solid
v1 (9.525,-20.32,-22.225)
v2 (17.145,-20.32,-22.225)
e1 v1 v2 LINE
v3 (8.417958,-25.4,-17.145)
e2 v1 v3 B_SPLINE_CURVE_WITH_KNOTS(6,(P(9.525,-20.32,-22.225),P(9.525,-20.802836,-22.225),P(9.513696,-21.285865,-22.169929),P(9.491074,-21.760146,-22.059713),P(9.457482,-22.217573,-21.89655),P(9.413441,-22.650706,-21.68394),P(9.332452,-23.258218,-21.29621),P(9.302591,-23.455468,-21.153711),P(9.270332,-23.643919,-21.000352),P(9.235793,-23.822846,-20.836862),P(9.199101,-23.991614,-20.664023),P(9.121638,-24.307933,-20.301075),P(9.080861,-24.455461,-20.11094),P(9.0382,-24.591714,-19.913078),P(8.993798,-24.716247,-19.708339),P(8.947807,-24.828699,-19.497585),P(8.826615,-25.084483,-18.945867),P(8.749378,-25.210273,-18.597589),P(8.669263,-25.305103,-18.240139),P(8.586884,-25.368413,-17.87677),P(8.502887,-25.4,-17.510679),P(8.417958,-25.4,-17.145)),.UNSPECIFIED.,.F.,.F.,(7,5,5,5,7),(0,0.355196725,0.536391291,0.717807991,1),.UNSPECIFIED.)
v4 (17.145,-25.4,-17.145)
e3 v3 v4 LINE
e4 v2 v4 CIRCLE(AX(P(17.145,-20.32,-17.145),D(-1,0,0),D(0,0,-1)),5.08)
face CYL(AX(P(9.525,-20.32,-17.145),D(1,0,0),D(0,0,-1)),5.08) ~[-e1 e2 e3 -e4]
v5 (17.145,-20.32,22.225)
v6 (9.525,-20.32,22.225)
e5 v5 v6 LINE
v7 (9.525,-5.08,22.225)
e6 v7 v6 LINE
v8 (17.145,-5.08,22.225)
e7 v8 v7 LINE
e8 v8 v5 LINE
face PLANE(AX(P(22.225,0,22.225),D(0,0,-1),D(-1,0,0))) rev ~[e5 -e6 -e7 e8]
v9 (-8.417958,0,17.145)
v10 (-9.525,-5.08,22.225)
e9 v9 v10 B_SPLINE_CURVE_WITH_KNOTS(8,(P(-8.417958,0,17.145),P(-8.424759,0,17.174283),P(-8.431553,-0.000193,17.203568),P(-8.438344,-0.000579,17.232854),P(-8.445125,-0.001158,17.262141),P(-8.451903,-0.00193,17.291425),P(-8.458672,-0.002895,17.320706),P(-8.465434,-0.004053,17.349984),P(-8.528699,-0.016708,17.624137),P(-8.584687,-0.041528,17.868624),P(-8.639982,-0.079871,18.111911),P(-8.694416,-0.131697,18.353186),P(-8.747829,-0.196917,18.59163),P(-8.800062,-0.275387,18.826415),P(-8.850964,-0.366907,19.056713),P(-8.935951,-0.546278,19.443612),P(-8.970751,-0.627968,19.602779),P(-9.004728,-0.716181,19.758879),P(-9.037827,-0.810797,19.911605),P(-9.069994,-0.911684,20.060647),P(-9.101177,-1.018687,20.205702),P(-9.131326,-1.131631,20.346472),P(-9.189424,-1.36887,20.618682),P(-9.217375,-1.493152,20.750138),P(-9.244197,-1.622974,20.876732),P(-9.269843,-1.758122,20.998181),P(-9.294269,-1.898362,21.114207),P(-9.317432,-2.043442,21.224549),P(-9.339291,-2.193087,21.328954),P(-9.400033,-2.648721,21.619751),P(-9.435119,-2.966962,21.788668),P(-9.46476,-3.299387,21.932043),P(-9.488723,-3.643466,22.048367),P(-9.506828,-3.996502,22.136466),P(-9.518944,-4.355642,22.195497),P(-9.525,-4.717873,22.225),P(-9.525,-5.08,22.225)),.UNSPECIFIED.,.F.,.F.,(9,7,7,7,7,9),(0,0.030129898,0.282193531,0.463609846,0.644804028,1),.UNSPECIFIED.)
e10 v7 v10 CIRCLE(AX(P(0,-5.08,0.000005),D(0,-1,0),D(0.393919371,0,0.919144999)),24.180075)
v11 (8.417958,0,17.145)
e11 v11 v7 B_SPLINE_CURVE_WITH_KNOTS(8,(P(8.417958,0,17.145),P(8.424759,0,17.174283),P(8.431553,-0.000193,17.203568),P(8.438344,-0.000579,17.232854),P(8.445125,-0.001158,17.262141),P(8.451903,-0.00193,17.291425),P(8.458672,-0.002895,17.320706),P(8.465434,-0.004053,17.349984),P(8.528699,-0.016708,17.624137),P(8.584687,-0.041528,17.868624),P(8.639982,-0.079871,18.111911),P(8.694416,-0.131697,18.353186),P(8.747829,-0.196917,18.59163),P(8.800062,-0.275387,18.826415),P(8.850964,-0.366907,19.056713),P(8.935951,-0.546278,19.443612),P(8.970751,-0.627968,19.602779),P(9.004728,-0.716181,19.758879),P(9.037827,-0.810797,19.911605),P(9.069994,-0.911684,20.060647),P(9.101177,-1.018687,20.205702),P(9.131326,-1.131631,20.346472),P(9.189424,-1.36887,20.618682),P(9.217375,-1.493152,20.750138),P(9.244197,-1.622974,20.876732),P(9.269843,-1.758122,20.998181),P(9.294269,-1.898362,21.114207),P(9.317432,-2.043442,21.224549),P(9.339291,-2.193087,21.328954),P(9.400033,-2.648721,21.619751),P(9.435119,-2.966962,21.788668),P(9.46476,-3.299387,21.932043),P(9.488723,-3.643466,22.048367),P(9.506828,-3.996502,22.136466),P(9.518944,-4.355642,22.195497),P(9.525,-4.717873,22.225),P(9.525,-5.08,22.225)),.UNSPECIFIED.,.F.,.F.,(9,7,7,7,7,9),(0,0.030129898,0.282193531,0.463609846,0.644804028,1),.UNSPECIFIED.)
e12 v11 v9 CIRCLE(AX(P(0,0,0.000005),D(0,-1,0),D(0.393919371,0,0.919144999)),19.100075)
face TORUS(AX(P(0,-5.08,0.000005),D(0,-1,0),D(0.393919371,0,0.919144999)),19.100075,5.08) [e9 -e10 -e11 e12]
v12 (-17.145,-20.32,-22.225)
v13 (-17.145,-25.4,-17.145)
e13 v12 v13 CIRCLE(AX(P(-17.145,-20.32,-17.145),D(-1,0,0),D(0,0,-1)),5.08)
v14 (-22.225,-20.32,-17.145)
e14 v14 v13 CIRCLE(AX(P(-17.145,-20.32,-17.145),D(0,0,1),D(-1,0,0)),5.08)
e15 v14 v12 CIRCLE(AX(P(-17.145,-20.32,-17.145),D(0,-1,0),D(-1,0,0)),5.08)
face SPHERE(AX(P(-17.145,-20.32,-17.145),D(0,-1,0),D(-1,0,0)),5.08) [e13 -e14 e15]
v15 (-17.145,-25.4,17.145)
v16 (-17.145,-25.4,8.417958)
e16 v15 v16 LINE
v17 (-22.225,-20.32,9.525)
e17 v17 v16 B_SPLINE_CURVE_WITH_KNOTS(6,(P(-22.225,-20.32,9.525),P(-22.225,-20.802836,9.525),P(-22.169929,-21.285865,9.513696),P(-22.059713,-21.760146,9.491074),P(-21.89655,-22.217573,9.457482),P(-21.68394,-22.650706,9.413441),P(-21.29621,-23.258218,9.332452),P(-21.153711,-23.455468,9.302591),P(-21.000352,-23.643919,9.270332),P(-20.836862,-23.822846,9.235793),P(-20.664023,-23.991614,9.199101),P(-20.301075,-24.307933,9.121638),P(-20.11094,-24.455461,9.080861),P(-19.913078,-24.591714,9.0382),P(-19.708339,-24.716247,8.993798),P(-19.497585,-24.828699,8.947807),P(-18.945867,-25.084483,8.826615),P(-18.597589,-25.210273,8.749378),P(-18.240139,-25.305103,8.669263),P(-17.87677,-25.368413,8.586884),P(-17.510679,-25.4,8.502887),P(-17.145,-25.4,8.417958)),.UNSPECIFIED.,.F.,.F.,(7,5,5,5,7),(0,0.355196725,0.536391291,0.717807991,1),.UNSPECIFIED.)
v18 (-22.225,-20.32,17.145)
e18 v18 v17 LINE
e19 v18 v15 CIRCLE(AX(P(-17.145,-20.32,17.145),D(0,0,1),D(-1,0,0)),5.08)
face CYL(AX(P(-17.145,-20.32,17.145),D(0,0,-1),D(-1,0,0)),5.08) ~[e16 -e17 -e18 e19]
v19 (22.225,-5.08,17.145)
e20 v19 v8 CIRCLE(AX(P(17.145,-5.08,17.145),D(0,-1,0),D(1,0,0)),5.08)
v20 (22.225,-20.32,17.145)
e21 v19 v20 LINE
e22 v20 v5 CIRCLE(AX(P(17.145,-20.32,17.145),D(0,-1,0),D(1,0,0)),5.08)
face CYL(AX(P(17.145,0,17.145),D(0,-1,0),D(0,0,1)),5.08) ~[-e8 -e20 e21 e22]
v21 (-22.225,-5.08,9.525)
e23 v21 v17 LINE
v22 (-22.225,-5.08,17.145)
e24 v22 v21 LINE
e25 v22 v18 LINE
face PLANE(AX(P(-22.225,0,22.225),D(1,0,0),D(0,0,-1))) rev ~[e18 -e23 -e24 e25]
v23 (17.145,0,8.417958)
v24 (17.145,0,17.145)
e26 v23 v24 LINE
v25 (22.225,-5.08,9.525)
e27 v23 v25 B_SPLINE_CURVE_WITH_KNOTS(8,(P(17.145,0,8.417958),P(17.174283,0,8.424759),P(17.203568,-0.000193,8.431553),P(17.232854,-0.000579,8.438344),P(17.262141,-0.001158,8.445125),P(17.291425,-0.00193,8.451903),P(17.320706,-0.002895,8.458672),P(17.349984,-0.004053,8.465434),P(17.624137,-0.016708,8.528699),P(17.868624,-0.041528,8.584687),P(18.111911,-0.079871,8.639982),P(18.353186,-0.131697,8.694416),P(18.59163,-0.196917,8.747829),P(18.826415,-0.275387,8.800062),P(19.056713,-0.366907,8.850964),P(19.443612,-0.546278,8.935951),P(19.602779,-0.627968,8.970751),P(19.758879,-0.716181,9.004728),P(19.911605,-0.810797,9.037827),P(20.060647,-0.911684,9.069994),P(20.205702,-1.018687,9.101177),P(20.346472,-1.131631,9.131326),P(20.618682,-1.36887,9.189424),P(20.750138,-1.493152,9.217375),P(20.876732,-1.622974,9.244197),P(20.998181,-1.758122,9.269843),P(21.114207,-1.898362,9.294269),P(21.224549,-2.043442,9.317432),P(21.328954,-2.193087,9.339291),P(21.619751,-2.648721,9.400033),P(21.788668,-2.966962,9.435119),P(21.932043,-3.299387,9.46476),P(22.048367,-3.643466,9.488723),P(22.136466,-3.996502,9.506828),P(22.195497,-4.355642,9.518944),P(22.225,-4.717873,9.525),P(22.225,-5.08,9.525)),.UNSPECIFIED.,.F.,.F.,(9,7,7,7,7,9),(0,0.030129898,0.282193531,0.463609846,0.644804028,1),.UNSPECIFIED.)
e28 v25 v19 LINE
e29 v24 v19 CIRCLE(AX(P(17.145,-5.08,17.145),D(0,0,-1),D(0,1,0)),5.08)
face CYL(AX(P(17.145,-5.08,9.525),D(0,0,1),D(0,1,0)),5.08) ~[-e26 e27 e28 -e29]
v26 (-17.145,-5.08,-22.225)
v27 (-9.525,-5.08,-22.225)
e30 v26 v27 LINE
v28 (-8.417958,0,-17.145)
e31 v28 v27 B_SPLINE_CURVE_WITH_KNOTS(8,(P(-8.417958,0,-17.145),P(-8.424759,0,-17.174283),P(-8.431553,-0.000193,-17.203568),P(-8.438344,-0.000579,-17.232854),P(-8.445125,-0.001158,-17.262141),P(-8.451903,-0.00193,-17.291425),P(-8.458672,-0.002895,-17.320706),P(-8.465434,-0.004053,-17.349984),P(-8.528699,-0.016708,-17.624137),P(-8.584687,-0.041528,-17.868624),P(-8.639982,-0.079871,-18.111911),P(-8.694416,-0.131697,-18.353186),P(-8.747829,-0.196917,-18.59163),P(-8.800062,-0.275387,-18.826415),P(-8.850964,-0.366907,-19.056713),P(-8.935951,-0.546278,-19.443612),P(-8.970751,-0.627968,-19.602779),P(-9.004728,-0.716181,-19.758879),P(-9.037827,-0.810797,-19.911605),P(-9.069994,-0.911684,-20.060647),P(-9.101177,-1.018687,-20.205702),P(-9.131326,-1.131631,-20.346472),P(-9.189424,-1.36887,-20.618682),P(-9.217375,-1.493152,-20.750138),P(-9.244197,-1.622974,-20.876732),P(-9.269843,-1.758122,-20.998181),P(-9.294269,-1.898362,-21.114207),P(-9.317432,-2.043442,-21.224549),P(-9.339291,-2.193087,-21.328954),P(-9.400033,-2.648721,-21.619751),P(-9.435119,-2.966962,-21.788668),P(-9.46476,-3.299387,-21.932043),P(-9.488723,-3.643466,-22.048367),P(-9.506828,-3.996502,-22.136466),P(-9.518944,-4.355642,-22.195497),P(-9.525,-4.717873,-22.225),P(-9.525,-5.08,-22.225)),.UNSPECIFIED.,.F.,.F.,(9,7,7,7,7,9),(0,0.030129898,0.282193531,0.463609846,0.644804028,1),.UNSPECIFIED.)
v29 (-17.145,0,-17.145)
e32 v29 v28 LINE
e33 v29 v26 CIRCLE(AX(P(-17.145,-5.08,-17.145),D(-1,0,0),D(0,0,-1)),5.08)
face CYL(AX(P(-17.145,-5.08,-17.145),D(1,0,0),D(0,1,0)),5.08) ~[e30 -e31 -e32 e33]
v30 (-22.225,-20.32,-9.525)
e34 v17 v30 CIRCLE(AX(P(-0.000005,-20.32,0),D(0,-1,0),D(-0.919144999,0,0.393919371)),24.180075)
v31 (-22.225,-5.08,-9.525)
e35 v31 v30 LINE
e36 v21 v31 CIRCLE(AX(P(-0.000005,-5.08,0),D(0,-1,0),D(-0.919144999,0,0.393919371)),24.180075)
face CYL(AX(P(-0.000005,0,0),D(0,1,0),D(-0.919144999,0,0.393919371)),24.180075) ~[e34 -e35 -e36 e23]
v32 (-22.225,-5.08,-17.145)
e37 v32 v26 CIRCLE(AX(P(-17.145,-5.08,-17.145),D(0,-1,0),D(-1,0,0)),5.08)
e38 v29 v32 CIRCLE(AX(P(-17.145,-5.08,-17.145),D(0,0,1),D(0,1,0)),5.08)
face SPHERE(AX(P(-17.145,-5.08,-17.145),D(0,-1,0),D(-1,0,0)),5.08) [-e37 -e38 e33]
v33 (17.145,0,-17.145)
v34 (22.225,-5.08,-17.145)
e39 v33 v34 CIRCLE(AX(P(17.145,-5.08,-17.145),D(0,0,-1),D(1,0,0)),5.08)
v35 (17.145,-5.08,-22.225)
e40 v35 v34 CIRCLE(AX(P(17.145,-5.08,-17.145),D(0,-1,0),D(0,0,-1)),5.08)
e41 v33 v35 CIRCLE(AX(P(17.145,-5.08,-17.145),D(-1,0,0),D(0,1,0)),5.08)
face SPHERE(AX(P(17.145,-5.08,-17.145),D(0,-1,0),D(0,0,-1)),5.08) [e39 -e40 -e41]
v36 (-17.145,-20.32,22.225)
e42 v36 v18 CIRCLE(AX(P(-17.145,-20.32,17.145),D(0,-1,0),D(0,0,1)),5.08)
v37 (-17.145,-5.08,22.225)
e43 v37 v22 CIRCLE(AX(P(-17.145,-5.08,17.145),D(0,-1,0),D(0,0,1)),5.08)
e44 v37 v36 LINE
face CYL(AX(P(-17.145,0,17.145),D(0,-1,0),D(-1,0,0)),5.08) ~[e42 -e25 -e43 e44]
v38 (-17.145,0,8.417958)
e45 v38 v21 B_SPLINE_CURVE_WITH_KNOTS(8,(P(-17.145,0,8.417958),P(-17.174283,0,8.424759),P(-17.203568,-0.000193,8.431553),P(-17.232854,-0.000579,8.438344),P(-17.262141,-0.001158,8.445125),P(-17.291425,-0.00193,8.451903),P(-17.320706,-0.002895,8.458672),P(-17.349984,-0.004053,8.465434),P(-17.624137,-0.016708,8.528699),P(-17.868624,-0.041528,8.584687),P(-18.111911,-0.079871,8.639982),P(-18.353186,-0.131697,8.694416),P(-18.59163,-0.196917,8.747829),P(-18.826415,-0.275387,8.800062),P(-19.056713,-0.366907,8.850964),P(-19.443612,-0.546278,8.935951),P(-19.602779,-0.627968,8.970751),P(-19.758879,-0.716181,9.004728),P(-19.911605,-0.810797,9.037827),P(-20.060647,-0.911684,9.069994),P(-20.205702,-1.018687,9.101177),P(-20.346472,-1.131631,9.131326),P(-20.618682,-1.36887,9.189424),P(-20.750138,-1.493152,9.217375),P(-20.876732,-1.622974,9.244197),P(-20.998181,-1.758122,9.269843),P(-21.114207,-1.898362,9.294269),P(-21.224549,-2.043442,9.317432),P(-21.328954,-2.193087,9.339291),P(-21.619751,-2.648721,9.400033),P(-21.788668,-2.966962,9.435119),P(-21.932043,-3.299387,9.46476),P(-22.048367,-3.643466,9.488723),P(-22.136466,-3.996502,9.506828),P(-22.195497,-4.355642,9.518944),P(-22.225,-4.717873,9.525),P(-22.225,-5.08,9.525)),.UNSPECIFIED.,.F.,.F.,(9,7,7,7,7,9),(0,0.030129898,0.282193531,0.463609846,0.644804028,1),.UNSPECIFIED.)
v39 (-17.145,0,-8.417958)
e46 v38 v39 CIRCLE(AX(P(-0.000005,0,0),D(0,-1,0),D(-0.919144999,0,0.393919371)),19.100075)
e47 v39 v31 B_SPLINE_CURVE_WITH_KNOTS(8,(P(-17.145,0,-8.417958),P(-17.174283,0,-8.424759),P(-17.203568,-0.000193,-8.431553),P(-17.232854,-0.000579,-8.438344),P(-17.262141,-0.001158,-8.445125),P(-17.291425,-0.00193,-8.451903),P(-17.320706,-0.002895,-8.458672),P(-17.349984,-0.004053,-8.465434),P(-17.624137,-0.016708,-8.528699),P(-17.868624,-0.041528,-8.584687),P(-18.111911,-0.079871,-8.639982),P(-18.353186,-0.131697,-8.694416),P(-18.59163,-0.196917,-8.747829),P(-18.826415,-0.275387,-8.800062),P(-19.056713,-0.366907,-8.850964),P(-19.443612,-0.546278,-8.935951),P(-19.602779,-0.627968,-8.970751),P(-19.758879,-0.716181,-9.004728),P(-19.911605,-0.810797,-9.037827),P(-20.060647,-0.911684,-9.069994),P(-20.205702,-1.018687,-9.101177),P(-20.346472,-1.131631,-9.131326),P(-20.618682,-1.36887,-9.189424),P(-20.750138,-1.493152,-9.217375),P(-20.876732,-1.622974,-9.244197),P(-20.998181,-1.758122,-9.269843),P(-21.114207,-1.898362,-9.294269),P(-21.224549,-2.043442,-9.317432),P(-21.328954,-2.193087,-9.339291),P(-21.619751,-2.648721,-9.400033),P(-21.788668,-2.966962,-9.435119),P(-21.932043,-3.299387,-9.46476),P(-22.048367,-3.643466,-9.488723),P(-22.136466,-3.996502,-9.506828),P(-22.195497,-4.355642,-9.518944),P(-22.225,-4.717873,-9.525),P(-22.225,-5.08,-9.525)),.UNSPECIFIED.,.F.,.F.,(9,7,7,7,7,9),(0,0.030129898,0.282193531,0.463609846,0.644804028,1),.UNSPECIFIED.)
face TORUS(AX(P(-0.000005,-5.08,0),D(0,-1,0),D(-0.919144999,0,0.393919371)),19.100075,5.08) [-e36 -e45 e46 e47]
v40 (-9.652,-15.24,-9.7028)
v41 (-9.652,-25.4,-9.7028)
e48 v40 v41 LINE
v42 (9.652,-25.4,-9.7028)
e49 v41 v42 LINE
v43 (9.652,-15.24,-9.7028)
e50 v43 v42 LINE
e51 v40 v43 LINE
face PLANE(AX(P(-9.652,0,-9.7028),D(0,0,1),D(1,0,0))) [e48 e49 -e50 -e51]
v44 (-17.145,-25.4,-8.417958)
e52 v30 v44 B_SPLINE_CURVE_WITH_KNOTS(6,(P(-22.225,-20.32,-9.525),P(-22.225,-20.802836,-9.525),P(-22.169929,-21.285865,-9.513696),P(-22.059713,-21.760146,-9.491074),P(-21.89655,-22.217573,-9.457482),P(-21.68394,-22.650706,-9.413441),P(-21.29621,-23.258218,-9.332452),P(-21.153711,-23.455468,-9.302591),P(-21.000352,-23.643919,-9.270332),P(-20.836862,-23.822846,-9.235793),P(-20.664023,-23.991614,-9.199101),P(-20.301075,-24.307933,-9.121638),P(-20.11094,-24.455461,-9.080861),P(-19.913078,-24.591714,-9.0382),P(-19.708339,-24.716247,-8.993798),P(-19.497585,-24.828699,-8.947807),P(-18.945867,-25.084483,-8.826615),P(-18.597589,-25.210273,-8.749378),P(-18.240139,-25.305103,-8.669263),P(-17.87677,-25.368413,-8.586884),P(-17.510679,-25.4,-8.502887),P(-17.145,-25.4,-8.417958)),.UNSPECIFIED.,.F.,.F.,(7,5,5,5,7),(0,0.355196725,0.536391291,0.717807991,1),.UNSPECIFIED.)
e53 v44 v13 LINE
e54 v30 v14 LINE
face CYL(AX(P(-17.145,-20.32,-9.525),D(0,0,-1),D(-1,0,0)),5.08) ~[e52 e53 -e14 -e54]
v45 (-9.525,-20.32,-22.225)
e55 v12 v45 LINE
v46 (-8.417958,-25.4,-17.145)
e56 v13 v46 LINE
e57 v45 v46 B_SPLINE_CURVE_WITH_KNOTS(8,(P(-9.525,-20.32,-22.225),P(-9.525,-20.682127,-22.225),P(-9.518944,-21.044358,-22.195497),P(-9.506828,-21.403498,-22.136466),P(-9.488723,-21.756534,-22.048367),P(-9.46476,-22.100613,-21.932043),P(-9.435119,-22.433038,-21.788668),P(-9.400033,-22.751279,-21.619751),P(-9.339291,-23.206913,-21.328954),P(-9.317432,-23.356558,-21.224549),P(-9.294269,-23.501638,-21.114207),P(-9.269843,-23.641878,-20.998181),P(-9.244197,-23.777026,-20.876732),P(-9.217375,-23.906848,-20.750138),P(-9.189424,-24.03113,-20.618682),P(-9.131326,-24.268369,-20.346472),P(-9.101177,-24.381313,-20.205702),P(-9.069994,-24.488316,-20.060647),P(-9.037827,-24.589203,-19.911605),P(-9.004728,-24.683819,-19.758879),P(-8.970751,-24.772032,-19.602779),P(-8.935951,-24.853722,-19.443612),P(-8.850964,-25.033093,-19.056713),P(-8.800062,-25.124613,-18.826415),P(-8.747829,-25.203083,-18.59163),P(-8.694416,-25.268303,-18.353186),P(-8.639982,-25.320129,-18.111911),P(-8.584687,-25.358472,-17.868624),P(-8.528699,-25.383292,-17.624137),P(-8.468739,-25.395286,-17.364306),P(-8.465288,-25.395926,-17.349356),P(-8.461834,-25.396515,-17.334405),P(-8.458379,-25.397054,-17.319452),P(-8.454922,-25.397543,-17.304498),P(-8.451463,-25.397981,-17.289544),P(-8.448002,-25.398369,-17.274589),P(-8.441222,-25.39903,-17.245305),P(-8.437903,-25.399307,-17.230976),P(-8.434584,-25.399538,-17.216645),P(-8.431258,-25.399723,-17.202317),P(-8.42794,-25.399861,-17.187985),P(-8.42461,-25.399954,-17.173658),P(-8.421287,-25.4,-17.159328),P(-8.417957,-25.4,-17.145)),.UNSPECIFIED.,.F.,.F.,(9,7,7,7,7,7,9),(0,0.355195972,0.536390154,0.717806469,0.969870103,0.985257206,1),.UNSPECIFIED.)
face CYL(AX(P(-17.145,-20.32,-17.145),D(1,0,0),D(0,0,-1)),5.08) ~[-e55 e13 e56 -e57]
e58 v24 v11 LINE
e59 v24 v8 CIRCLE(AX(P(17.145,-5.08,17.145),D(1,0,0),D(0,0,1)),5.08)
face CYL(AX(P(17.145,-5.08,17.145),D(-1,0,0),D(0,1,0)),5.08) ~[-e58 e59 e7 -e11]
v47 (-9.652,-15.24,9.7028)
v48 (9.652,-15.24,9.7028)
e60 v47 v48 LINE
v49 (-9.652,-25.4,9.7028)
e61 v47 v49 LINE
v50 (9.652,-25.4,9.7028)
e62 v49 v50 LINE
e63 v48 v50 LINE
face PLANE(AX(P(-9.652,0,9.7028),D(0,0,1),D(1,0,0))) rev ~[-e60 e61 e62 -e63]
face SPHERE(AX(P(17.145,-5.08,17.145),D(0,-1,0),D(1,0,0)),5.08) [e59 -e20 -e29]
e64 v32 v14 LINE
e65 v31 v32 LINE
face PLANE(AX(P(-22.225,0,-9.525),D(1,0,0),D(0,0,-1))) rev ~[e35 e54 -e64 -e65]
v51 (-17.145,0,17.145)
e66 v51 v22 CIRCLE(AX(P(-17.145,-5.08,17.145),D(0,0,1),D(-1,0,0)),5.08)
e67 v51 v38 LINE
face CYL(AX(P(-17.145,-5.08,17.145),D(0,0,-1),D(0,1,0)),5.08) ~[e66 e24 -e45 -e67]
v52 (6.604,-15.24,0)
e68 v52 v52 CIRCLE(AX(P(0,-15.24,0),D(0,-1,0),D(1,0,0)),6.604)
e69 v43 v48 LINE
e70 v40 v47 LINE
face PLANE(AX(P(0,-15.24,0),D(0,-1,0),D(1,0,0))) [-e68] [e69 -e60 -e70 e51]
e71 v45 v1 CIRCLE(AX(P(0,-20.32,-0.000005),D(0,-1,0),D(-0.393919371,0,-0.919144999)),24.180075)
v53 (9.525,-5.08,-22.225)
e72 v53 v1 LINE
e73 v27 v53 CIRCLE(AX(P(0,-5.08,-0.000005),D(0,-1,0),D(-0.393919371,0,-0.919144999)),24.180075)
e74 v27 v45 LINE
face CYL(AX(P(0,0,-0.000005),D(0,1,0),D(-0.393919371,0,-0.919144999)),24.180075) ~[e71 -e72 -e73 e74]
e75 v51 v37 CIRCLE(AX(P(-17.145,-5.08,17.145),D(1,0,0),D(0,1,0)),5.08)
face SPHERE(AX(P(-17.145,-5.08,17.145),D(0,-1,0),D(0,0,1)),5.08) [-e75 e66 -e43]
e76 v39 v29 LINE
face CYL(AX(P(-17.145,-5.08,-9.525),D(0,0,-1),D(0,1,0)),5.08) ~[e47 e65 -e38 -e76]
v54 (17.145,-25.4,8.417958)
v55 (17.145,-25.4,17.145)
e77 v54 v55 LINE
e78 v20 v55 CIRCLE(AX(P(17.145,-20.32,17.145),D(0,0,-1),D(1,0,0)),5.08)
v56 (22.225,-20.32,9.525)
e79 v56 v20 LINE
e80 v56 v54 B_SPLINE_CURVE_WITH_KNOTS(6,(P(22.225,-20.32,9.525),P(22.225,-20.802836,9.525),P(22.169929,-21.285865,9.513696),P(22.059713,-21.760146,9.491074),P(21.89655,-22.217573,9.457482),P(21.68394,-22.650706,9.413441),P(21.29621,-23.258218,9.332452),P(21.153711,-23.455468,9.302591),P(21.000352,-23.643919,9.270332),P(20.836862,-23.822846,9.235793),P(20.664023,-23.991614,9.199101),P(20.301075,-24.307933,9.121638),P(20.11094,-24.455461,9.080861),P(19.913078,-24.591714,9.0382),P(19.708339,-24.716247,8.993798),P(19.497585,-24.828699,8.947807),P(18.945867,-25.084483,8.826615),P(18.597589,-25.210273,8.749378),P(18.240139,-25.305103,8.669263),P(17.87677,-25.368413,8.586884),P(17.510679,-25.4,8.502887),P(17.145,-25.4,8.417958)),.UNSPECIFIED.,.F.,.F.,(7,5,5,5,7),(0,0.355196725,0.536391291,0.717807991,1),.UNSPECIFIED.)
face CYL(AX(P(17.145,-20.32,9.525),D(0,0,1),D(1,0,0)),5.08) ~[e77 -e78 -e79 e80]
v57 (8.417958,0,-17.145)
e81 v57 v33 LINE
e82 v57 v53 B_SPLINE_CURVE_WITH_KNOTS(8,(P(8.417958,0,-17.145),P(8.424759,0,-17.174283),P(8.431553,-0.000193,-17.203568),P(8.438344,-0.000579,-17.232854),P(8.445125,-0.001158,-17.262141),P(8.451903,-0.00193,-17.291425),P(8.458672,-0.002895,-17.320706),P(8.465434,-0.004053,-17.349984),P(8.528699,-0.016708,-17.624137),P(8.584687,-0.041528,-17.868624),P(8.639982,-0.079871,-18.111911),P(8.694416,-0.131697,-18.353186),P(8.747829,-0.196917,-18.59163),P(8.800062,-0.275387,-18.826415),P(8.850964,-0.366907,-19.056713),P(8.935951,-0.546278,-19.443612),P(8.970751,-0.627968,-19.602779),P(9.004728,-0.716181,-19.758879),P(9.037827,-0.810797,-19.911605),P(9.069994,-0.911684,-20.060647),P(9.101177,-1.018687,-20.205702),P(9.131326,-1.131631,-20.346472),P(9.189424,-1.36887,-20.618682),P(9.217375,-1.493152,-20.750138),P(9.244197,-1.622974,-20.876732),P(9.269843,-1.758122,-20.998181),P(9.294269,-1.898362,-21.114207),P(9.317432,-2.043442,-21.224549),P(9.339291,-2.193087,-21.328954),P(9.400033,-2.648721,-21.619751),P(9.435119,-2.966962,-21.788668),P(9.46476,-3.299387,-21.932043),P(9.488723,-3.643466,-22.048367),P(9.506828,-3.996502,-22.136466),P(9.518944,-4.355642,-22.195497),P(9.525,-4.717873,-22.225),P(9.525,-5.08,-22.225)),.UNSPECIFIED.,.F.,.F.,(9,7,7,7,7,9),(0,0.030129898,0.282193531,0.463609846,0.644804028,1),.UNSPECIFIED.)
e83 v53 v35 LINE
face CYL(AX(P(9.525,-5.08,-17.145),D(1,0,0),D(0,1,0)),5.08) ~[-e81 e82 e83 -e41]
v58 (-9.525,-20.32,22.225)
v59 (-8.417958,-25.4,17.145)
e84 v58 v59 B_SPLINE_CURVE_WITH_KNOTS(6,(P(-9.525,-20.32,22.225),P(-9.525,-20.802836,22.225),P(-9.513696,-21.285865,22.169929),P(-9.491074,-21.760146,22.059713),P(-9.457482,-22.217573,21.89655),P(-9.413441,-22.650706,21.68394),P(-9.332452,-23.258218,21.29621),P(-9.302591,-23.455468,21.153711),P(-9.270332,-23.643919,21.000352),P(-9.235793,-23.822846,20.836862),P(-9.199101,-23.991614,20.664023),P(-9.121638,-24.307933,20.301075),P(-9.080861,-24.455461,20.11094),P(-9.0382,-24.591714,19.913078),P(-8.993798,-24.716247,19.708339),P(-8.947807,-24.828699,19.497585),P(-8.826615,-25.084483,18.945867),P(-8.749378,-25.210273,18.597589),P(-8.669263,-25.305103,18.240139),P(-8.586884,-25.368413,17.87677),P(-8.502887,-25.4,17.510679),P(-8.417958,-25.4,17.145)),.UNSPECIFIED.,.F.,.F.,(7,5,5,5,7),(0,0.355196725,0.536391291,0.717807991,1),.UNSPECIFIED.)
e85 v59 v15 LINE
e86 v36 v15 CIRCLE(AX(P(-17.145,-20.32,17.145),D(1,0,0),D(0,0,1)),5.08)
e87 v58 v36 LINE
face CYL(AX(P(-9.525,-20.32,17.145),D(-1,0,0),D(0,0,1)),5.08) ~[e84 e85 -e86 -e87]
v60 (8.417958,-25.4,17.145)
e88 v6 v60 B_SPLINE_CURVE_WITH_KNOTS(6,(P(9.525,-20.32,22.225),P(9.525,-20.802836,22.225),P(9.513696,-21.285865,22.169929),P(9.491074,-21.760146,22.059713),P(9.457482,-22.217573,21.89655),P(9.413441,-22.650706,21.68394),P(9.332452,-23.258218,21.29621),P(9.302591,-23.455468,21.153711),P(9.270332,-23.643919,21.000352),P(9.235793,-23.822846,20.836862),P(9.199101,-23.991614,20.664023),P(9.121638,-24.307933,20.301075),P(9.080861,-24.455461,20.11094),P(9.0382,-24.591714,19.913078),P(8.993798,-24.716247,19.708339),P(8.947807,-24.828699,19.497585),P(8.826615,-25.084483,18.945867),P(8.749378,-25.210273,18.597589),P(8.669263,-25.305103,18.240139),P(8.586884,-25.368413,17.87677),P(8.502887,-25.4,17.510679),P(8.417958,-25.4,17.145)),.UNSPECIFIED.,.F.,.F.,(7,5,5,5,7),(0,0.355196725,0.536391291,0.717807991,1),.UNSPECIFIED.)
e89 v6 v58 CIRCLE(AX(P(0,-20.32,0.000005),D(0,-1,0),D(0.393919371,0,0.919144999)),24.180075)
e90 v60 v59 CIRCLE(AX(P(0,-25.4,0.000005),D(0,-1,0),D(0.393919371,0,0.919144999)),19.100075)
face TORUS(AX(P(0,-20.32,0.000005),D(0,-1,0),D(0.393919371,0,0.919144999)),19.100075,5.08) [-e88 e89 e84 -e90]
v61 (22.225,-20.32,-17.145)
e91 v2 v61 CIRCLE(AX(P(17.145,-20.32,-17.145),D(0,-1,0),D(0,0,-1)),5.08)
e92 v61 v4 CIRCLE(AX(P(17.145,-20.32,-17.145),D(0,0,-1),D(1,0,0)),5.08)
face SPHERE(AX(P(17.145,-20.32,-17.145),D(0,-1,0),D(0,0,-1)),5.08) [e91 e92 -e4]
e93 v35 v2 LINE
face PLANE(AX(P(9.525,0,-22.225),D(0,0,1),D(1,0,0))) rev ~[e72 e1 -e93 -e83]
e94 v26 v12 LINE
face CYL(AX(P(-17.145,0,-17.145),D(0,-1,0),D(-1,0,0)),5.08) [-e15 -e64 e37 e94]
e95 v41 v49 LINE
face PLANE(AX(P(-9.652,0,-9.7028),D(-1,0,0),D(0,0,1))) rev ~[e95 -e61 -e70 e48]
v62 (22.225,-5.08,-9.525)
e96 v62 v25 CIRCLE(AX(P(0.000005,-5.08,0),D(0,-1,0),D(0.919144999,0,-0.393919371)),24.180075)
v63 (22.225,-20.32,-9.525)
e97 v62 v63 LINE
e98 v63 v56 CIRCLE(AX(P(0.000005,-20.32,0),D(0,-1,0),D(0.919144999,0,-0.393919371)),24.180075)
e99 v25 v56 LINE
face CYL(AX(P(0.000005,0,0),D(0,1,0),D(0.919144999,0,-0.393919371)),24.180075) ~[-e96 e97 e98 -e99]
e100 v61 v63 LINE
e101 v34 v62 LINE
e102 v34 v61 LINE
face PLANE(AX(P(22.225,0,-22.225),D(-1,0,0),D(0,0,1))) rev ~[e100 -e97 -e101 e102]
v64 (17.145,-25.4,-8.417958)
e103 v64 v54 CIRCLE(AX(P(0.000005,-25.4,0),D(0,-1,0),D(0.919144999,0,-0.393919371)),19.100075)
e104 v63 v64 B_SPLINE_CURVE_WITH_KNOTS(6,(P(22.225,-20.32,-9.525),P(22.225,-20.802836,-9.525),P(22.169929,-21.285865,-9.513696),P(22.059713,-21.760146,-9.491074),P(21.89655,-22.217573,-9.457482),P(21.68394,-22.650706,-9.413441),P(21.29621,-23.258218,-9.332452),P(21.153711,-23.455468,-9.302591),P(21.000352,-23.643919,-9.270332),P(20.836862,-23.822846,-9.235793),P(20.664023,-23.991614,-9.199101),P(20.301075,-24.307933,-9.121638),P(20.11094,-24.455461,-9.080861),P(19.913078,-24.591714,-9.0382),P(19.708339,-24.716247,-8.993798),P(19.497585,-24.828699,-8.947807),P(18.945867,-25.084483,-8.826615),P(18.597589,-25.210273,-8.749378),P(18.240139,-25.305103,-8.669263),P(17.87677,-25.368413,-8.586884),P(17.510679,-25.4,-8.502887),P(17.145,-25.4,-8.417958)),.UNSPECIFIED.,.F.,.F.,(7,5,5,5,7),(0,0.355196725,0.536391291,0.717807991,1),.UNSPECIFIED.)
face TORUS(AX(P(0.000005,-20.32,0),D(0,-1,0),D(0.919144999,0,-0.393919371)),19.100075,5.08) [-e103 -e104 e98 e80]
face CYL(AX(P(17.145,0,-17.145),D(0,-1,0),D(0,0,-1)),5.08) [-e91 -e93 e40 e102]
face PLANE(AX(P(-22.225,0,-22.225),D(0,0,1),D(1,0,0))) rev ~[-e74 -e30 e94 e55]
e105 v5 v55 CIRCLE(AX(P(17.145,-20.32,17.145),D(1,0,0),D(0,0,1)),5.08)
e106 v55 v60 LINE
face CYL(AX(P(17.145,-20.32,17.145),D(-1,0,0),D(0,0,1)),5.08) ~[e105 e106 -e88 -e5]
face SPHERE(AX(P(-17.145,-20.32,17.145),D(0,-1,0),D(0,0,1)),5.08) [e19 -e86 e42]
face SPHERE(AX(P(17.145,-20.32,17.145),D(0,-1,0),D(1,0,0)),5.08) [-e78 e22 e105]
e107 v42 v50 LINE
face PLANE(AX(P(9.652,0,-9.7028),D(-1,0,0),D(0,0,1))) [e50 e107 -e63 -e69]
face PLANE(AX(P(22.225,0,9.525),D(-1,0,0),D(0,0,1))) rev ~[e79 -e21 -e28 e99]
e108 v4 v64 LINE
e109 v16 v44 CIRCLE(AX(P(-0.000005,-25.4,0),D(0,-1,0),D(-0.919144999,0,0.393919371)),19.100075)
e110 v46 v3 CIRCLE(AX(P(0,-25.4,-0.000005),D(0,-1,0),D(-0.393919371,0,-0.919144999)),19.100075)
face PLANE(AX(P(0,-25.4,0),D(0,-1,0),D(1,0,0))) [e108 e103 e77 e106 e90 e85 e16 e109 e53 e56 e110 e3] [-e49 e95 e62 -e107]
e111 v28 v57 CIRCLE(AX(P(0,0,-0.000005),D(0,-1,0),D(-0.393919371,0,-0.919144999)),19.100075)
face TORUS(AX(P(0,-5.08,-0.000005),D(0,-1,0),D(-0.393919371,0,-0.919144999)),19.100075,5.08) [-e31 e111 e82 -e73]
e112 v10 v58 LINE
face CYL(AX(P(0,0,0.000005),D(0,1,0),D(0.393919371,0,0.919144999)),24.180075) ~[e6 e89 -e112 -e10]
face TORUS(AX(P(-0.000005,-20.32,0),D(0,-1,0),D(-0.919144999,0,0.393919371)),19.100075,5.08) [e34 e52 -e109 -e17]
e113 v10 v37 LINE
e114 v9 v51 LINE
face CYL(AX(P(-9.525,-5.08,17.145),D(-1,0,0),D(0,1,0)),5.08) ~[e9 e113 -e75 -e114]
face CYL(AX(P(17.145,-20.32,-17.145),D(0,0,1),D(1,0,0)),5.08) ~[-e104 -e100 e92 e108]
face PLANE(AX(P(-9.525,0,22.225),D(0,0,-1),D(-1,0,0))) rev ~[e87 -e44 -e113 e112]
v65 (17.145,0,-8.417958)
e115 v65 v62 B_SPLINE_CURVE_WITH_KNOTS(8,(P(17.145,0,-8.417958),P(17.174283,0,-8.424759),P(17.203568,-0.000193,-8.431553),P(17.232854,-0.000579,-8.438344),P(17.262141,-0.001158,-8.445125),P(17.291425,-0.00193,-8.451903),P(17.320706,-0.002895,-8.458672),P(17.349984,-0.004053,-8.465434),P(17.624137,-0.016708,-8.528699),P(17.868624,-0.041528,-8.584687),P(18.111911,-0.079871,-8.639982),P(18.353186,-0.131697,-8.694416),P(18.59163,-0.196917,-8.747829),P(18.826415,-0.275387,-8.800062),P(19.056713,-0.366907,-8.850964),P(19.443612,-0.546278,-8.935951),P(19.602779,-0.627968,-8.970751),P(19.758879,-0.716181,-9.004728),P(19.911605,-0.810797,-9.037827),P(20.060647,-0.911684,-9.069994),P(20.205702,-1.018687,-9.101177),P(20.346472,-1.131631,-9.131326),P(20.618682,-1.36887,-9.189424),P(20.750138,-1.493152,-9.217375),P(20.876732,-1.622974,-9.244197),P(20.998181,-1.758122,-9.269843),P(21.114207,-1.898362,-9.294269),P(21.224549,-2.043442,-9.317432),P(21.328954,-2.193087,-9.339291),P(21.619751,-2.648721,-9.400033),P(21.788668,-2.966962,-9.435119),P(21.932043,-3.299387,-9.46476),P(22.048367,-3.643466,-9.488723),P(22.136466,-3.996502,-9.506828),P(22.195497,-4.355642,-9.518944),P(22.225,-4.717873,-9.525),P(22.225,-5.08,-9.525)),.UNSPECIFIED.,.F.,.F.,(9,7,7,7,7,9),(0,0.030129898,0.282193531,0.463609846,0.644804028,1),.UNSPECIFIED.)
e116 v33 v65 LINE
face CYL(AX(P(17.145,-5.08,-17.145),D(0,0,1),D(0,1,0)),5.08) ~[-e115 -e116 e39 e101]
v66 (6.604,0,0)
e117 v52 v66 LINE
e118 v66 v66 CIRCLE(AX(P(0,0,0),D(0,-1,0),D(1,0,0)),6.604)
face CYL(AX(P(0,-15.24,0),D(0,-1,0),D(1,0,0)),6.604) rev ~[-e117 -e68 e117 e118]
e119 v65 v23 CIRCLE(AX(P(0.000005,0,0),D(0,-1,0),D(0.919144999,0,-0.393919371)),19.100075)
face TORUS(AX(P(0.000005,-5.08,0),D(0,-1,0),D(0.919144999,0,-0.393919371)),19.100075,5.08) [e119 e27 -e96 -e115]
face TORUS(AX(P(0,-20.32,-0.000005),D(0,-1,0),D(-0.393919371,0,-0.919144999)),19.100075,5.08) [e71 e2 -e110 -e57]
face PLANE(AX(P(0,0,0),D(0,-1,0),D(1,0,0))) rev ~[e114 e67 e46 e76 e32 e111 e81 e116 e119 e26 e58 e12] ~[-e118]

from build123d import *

# Parameters (mm, degrees)
F0_W     = 19.304
F0_H     = 19.4056
F1_DEPTH = 25.4
F2_DEPTH = 15.24
F3_R     = 6.604
F4_DEPTH = 127
F5_R     = 5.08
F6_R     = 5.08


with BuildPart() as f1:
    # F0 (on Front) → F1 (new body)
    with BuildSketch(Plane.XZ):
        with BuildLine():
            Line((-22.225, -9.525), (-22.225, -22.225))
            Line((-22.225, -22.225), (-9.525, -22.225))
            ThreePointArc((-9.525, -22.225), (0, -24.18008), (9.525, -22.225))
            Line((9.525, -22.225), (22.225, -22.225))
            Line((22.225, -22.225), (22.225, -9.525))
            ThreePointArc((22.225, -9.525), (24.18008, 0), (22.225, 9.525))
            Line((22.225, 9.525), (22.225, 22.225))
            Line((22.225, 22.225), (9.525, 22.225))
            ThreePointArc((9.525, 22.225), (0, 24.18008), (-9.525, 22.225))
            Line((-9.525, 22.225), (-22.225, 22.225))
            Line((-22.225, 22.225), (-22.225, 9.525))
            ThreePointArc((-22.225, 9.525), (-24.18008, 0), (-22.225, -9.525))
        make_face()
        Rectangle(F0_W, F0_H, mode=Mode.SUBTRACT)
    extrude(amount=F1_DEPTH)

    # F0 (on Front) → F2 (join)
    with BuildSketch(Plane.XZ):
        Rectangle(F0_W, F0_H)
    extrude(amount=F2_DEPTH)

    # F3 (on face) → F4 (cut)
    with BuildSketch(Plane.XZ.offset(15.24)):
        Circle(F3_R)
    extrude(amount=-F4_DEPTH, mode=Mode.SUBTRACT)

    # F5
    f5_edges = [f1.edges().sort_by_distance(p)[0] for p in [
        (-22.225, -12.7, -22.225),
        (-22.225, -12.7, 22.225),
        (22.225, -12.7, 22.225),
        (22.225, -12.7, -22.225),
    ]]
    fillet(f5_edges, radius=F5_R)

    # F6
    f6_edges = [f1.edges().sort_by_distance(p)[0] for p in [
        (-13.335, -25.4, -22.225),
        (-13.335, 0, -22.225),
        (-13.335, 0, 22.225),
        (-22.225, -25.4, 13.335),
        (22.225, -25.4, 13.335),
        (22.225, -25.4, -13.335),
        (13.335, 0, -22.225),
        (13.335, 0, 22.225),
        (0, -25.4, -24.18008),
        (0, 0, -24.18008),
        (0, 0, 24.18008),
        (0, -25.4, 24.18008),
        (24.18008, -25.4, 0),
        (24.18008, 0, 0),
        (-24.18008, 0, 0),
        (-24.18008, -25.4, 0),
    ]]
    fillet(f6_edges, radius=F6_R)


solid = f1.part
